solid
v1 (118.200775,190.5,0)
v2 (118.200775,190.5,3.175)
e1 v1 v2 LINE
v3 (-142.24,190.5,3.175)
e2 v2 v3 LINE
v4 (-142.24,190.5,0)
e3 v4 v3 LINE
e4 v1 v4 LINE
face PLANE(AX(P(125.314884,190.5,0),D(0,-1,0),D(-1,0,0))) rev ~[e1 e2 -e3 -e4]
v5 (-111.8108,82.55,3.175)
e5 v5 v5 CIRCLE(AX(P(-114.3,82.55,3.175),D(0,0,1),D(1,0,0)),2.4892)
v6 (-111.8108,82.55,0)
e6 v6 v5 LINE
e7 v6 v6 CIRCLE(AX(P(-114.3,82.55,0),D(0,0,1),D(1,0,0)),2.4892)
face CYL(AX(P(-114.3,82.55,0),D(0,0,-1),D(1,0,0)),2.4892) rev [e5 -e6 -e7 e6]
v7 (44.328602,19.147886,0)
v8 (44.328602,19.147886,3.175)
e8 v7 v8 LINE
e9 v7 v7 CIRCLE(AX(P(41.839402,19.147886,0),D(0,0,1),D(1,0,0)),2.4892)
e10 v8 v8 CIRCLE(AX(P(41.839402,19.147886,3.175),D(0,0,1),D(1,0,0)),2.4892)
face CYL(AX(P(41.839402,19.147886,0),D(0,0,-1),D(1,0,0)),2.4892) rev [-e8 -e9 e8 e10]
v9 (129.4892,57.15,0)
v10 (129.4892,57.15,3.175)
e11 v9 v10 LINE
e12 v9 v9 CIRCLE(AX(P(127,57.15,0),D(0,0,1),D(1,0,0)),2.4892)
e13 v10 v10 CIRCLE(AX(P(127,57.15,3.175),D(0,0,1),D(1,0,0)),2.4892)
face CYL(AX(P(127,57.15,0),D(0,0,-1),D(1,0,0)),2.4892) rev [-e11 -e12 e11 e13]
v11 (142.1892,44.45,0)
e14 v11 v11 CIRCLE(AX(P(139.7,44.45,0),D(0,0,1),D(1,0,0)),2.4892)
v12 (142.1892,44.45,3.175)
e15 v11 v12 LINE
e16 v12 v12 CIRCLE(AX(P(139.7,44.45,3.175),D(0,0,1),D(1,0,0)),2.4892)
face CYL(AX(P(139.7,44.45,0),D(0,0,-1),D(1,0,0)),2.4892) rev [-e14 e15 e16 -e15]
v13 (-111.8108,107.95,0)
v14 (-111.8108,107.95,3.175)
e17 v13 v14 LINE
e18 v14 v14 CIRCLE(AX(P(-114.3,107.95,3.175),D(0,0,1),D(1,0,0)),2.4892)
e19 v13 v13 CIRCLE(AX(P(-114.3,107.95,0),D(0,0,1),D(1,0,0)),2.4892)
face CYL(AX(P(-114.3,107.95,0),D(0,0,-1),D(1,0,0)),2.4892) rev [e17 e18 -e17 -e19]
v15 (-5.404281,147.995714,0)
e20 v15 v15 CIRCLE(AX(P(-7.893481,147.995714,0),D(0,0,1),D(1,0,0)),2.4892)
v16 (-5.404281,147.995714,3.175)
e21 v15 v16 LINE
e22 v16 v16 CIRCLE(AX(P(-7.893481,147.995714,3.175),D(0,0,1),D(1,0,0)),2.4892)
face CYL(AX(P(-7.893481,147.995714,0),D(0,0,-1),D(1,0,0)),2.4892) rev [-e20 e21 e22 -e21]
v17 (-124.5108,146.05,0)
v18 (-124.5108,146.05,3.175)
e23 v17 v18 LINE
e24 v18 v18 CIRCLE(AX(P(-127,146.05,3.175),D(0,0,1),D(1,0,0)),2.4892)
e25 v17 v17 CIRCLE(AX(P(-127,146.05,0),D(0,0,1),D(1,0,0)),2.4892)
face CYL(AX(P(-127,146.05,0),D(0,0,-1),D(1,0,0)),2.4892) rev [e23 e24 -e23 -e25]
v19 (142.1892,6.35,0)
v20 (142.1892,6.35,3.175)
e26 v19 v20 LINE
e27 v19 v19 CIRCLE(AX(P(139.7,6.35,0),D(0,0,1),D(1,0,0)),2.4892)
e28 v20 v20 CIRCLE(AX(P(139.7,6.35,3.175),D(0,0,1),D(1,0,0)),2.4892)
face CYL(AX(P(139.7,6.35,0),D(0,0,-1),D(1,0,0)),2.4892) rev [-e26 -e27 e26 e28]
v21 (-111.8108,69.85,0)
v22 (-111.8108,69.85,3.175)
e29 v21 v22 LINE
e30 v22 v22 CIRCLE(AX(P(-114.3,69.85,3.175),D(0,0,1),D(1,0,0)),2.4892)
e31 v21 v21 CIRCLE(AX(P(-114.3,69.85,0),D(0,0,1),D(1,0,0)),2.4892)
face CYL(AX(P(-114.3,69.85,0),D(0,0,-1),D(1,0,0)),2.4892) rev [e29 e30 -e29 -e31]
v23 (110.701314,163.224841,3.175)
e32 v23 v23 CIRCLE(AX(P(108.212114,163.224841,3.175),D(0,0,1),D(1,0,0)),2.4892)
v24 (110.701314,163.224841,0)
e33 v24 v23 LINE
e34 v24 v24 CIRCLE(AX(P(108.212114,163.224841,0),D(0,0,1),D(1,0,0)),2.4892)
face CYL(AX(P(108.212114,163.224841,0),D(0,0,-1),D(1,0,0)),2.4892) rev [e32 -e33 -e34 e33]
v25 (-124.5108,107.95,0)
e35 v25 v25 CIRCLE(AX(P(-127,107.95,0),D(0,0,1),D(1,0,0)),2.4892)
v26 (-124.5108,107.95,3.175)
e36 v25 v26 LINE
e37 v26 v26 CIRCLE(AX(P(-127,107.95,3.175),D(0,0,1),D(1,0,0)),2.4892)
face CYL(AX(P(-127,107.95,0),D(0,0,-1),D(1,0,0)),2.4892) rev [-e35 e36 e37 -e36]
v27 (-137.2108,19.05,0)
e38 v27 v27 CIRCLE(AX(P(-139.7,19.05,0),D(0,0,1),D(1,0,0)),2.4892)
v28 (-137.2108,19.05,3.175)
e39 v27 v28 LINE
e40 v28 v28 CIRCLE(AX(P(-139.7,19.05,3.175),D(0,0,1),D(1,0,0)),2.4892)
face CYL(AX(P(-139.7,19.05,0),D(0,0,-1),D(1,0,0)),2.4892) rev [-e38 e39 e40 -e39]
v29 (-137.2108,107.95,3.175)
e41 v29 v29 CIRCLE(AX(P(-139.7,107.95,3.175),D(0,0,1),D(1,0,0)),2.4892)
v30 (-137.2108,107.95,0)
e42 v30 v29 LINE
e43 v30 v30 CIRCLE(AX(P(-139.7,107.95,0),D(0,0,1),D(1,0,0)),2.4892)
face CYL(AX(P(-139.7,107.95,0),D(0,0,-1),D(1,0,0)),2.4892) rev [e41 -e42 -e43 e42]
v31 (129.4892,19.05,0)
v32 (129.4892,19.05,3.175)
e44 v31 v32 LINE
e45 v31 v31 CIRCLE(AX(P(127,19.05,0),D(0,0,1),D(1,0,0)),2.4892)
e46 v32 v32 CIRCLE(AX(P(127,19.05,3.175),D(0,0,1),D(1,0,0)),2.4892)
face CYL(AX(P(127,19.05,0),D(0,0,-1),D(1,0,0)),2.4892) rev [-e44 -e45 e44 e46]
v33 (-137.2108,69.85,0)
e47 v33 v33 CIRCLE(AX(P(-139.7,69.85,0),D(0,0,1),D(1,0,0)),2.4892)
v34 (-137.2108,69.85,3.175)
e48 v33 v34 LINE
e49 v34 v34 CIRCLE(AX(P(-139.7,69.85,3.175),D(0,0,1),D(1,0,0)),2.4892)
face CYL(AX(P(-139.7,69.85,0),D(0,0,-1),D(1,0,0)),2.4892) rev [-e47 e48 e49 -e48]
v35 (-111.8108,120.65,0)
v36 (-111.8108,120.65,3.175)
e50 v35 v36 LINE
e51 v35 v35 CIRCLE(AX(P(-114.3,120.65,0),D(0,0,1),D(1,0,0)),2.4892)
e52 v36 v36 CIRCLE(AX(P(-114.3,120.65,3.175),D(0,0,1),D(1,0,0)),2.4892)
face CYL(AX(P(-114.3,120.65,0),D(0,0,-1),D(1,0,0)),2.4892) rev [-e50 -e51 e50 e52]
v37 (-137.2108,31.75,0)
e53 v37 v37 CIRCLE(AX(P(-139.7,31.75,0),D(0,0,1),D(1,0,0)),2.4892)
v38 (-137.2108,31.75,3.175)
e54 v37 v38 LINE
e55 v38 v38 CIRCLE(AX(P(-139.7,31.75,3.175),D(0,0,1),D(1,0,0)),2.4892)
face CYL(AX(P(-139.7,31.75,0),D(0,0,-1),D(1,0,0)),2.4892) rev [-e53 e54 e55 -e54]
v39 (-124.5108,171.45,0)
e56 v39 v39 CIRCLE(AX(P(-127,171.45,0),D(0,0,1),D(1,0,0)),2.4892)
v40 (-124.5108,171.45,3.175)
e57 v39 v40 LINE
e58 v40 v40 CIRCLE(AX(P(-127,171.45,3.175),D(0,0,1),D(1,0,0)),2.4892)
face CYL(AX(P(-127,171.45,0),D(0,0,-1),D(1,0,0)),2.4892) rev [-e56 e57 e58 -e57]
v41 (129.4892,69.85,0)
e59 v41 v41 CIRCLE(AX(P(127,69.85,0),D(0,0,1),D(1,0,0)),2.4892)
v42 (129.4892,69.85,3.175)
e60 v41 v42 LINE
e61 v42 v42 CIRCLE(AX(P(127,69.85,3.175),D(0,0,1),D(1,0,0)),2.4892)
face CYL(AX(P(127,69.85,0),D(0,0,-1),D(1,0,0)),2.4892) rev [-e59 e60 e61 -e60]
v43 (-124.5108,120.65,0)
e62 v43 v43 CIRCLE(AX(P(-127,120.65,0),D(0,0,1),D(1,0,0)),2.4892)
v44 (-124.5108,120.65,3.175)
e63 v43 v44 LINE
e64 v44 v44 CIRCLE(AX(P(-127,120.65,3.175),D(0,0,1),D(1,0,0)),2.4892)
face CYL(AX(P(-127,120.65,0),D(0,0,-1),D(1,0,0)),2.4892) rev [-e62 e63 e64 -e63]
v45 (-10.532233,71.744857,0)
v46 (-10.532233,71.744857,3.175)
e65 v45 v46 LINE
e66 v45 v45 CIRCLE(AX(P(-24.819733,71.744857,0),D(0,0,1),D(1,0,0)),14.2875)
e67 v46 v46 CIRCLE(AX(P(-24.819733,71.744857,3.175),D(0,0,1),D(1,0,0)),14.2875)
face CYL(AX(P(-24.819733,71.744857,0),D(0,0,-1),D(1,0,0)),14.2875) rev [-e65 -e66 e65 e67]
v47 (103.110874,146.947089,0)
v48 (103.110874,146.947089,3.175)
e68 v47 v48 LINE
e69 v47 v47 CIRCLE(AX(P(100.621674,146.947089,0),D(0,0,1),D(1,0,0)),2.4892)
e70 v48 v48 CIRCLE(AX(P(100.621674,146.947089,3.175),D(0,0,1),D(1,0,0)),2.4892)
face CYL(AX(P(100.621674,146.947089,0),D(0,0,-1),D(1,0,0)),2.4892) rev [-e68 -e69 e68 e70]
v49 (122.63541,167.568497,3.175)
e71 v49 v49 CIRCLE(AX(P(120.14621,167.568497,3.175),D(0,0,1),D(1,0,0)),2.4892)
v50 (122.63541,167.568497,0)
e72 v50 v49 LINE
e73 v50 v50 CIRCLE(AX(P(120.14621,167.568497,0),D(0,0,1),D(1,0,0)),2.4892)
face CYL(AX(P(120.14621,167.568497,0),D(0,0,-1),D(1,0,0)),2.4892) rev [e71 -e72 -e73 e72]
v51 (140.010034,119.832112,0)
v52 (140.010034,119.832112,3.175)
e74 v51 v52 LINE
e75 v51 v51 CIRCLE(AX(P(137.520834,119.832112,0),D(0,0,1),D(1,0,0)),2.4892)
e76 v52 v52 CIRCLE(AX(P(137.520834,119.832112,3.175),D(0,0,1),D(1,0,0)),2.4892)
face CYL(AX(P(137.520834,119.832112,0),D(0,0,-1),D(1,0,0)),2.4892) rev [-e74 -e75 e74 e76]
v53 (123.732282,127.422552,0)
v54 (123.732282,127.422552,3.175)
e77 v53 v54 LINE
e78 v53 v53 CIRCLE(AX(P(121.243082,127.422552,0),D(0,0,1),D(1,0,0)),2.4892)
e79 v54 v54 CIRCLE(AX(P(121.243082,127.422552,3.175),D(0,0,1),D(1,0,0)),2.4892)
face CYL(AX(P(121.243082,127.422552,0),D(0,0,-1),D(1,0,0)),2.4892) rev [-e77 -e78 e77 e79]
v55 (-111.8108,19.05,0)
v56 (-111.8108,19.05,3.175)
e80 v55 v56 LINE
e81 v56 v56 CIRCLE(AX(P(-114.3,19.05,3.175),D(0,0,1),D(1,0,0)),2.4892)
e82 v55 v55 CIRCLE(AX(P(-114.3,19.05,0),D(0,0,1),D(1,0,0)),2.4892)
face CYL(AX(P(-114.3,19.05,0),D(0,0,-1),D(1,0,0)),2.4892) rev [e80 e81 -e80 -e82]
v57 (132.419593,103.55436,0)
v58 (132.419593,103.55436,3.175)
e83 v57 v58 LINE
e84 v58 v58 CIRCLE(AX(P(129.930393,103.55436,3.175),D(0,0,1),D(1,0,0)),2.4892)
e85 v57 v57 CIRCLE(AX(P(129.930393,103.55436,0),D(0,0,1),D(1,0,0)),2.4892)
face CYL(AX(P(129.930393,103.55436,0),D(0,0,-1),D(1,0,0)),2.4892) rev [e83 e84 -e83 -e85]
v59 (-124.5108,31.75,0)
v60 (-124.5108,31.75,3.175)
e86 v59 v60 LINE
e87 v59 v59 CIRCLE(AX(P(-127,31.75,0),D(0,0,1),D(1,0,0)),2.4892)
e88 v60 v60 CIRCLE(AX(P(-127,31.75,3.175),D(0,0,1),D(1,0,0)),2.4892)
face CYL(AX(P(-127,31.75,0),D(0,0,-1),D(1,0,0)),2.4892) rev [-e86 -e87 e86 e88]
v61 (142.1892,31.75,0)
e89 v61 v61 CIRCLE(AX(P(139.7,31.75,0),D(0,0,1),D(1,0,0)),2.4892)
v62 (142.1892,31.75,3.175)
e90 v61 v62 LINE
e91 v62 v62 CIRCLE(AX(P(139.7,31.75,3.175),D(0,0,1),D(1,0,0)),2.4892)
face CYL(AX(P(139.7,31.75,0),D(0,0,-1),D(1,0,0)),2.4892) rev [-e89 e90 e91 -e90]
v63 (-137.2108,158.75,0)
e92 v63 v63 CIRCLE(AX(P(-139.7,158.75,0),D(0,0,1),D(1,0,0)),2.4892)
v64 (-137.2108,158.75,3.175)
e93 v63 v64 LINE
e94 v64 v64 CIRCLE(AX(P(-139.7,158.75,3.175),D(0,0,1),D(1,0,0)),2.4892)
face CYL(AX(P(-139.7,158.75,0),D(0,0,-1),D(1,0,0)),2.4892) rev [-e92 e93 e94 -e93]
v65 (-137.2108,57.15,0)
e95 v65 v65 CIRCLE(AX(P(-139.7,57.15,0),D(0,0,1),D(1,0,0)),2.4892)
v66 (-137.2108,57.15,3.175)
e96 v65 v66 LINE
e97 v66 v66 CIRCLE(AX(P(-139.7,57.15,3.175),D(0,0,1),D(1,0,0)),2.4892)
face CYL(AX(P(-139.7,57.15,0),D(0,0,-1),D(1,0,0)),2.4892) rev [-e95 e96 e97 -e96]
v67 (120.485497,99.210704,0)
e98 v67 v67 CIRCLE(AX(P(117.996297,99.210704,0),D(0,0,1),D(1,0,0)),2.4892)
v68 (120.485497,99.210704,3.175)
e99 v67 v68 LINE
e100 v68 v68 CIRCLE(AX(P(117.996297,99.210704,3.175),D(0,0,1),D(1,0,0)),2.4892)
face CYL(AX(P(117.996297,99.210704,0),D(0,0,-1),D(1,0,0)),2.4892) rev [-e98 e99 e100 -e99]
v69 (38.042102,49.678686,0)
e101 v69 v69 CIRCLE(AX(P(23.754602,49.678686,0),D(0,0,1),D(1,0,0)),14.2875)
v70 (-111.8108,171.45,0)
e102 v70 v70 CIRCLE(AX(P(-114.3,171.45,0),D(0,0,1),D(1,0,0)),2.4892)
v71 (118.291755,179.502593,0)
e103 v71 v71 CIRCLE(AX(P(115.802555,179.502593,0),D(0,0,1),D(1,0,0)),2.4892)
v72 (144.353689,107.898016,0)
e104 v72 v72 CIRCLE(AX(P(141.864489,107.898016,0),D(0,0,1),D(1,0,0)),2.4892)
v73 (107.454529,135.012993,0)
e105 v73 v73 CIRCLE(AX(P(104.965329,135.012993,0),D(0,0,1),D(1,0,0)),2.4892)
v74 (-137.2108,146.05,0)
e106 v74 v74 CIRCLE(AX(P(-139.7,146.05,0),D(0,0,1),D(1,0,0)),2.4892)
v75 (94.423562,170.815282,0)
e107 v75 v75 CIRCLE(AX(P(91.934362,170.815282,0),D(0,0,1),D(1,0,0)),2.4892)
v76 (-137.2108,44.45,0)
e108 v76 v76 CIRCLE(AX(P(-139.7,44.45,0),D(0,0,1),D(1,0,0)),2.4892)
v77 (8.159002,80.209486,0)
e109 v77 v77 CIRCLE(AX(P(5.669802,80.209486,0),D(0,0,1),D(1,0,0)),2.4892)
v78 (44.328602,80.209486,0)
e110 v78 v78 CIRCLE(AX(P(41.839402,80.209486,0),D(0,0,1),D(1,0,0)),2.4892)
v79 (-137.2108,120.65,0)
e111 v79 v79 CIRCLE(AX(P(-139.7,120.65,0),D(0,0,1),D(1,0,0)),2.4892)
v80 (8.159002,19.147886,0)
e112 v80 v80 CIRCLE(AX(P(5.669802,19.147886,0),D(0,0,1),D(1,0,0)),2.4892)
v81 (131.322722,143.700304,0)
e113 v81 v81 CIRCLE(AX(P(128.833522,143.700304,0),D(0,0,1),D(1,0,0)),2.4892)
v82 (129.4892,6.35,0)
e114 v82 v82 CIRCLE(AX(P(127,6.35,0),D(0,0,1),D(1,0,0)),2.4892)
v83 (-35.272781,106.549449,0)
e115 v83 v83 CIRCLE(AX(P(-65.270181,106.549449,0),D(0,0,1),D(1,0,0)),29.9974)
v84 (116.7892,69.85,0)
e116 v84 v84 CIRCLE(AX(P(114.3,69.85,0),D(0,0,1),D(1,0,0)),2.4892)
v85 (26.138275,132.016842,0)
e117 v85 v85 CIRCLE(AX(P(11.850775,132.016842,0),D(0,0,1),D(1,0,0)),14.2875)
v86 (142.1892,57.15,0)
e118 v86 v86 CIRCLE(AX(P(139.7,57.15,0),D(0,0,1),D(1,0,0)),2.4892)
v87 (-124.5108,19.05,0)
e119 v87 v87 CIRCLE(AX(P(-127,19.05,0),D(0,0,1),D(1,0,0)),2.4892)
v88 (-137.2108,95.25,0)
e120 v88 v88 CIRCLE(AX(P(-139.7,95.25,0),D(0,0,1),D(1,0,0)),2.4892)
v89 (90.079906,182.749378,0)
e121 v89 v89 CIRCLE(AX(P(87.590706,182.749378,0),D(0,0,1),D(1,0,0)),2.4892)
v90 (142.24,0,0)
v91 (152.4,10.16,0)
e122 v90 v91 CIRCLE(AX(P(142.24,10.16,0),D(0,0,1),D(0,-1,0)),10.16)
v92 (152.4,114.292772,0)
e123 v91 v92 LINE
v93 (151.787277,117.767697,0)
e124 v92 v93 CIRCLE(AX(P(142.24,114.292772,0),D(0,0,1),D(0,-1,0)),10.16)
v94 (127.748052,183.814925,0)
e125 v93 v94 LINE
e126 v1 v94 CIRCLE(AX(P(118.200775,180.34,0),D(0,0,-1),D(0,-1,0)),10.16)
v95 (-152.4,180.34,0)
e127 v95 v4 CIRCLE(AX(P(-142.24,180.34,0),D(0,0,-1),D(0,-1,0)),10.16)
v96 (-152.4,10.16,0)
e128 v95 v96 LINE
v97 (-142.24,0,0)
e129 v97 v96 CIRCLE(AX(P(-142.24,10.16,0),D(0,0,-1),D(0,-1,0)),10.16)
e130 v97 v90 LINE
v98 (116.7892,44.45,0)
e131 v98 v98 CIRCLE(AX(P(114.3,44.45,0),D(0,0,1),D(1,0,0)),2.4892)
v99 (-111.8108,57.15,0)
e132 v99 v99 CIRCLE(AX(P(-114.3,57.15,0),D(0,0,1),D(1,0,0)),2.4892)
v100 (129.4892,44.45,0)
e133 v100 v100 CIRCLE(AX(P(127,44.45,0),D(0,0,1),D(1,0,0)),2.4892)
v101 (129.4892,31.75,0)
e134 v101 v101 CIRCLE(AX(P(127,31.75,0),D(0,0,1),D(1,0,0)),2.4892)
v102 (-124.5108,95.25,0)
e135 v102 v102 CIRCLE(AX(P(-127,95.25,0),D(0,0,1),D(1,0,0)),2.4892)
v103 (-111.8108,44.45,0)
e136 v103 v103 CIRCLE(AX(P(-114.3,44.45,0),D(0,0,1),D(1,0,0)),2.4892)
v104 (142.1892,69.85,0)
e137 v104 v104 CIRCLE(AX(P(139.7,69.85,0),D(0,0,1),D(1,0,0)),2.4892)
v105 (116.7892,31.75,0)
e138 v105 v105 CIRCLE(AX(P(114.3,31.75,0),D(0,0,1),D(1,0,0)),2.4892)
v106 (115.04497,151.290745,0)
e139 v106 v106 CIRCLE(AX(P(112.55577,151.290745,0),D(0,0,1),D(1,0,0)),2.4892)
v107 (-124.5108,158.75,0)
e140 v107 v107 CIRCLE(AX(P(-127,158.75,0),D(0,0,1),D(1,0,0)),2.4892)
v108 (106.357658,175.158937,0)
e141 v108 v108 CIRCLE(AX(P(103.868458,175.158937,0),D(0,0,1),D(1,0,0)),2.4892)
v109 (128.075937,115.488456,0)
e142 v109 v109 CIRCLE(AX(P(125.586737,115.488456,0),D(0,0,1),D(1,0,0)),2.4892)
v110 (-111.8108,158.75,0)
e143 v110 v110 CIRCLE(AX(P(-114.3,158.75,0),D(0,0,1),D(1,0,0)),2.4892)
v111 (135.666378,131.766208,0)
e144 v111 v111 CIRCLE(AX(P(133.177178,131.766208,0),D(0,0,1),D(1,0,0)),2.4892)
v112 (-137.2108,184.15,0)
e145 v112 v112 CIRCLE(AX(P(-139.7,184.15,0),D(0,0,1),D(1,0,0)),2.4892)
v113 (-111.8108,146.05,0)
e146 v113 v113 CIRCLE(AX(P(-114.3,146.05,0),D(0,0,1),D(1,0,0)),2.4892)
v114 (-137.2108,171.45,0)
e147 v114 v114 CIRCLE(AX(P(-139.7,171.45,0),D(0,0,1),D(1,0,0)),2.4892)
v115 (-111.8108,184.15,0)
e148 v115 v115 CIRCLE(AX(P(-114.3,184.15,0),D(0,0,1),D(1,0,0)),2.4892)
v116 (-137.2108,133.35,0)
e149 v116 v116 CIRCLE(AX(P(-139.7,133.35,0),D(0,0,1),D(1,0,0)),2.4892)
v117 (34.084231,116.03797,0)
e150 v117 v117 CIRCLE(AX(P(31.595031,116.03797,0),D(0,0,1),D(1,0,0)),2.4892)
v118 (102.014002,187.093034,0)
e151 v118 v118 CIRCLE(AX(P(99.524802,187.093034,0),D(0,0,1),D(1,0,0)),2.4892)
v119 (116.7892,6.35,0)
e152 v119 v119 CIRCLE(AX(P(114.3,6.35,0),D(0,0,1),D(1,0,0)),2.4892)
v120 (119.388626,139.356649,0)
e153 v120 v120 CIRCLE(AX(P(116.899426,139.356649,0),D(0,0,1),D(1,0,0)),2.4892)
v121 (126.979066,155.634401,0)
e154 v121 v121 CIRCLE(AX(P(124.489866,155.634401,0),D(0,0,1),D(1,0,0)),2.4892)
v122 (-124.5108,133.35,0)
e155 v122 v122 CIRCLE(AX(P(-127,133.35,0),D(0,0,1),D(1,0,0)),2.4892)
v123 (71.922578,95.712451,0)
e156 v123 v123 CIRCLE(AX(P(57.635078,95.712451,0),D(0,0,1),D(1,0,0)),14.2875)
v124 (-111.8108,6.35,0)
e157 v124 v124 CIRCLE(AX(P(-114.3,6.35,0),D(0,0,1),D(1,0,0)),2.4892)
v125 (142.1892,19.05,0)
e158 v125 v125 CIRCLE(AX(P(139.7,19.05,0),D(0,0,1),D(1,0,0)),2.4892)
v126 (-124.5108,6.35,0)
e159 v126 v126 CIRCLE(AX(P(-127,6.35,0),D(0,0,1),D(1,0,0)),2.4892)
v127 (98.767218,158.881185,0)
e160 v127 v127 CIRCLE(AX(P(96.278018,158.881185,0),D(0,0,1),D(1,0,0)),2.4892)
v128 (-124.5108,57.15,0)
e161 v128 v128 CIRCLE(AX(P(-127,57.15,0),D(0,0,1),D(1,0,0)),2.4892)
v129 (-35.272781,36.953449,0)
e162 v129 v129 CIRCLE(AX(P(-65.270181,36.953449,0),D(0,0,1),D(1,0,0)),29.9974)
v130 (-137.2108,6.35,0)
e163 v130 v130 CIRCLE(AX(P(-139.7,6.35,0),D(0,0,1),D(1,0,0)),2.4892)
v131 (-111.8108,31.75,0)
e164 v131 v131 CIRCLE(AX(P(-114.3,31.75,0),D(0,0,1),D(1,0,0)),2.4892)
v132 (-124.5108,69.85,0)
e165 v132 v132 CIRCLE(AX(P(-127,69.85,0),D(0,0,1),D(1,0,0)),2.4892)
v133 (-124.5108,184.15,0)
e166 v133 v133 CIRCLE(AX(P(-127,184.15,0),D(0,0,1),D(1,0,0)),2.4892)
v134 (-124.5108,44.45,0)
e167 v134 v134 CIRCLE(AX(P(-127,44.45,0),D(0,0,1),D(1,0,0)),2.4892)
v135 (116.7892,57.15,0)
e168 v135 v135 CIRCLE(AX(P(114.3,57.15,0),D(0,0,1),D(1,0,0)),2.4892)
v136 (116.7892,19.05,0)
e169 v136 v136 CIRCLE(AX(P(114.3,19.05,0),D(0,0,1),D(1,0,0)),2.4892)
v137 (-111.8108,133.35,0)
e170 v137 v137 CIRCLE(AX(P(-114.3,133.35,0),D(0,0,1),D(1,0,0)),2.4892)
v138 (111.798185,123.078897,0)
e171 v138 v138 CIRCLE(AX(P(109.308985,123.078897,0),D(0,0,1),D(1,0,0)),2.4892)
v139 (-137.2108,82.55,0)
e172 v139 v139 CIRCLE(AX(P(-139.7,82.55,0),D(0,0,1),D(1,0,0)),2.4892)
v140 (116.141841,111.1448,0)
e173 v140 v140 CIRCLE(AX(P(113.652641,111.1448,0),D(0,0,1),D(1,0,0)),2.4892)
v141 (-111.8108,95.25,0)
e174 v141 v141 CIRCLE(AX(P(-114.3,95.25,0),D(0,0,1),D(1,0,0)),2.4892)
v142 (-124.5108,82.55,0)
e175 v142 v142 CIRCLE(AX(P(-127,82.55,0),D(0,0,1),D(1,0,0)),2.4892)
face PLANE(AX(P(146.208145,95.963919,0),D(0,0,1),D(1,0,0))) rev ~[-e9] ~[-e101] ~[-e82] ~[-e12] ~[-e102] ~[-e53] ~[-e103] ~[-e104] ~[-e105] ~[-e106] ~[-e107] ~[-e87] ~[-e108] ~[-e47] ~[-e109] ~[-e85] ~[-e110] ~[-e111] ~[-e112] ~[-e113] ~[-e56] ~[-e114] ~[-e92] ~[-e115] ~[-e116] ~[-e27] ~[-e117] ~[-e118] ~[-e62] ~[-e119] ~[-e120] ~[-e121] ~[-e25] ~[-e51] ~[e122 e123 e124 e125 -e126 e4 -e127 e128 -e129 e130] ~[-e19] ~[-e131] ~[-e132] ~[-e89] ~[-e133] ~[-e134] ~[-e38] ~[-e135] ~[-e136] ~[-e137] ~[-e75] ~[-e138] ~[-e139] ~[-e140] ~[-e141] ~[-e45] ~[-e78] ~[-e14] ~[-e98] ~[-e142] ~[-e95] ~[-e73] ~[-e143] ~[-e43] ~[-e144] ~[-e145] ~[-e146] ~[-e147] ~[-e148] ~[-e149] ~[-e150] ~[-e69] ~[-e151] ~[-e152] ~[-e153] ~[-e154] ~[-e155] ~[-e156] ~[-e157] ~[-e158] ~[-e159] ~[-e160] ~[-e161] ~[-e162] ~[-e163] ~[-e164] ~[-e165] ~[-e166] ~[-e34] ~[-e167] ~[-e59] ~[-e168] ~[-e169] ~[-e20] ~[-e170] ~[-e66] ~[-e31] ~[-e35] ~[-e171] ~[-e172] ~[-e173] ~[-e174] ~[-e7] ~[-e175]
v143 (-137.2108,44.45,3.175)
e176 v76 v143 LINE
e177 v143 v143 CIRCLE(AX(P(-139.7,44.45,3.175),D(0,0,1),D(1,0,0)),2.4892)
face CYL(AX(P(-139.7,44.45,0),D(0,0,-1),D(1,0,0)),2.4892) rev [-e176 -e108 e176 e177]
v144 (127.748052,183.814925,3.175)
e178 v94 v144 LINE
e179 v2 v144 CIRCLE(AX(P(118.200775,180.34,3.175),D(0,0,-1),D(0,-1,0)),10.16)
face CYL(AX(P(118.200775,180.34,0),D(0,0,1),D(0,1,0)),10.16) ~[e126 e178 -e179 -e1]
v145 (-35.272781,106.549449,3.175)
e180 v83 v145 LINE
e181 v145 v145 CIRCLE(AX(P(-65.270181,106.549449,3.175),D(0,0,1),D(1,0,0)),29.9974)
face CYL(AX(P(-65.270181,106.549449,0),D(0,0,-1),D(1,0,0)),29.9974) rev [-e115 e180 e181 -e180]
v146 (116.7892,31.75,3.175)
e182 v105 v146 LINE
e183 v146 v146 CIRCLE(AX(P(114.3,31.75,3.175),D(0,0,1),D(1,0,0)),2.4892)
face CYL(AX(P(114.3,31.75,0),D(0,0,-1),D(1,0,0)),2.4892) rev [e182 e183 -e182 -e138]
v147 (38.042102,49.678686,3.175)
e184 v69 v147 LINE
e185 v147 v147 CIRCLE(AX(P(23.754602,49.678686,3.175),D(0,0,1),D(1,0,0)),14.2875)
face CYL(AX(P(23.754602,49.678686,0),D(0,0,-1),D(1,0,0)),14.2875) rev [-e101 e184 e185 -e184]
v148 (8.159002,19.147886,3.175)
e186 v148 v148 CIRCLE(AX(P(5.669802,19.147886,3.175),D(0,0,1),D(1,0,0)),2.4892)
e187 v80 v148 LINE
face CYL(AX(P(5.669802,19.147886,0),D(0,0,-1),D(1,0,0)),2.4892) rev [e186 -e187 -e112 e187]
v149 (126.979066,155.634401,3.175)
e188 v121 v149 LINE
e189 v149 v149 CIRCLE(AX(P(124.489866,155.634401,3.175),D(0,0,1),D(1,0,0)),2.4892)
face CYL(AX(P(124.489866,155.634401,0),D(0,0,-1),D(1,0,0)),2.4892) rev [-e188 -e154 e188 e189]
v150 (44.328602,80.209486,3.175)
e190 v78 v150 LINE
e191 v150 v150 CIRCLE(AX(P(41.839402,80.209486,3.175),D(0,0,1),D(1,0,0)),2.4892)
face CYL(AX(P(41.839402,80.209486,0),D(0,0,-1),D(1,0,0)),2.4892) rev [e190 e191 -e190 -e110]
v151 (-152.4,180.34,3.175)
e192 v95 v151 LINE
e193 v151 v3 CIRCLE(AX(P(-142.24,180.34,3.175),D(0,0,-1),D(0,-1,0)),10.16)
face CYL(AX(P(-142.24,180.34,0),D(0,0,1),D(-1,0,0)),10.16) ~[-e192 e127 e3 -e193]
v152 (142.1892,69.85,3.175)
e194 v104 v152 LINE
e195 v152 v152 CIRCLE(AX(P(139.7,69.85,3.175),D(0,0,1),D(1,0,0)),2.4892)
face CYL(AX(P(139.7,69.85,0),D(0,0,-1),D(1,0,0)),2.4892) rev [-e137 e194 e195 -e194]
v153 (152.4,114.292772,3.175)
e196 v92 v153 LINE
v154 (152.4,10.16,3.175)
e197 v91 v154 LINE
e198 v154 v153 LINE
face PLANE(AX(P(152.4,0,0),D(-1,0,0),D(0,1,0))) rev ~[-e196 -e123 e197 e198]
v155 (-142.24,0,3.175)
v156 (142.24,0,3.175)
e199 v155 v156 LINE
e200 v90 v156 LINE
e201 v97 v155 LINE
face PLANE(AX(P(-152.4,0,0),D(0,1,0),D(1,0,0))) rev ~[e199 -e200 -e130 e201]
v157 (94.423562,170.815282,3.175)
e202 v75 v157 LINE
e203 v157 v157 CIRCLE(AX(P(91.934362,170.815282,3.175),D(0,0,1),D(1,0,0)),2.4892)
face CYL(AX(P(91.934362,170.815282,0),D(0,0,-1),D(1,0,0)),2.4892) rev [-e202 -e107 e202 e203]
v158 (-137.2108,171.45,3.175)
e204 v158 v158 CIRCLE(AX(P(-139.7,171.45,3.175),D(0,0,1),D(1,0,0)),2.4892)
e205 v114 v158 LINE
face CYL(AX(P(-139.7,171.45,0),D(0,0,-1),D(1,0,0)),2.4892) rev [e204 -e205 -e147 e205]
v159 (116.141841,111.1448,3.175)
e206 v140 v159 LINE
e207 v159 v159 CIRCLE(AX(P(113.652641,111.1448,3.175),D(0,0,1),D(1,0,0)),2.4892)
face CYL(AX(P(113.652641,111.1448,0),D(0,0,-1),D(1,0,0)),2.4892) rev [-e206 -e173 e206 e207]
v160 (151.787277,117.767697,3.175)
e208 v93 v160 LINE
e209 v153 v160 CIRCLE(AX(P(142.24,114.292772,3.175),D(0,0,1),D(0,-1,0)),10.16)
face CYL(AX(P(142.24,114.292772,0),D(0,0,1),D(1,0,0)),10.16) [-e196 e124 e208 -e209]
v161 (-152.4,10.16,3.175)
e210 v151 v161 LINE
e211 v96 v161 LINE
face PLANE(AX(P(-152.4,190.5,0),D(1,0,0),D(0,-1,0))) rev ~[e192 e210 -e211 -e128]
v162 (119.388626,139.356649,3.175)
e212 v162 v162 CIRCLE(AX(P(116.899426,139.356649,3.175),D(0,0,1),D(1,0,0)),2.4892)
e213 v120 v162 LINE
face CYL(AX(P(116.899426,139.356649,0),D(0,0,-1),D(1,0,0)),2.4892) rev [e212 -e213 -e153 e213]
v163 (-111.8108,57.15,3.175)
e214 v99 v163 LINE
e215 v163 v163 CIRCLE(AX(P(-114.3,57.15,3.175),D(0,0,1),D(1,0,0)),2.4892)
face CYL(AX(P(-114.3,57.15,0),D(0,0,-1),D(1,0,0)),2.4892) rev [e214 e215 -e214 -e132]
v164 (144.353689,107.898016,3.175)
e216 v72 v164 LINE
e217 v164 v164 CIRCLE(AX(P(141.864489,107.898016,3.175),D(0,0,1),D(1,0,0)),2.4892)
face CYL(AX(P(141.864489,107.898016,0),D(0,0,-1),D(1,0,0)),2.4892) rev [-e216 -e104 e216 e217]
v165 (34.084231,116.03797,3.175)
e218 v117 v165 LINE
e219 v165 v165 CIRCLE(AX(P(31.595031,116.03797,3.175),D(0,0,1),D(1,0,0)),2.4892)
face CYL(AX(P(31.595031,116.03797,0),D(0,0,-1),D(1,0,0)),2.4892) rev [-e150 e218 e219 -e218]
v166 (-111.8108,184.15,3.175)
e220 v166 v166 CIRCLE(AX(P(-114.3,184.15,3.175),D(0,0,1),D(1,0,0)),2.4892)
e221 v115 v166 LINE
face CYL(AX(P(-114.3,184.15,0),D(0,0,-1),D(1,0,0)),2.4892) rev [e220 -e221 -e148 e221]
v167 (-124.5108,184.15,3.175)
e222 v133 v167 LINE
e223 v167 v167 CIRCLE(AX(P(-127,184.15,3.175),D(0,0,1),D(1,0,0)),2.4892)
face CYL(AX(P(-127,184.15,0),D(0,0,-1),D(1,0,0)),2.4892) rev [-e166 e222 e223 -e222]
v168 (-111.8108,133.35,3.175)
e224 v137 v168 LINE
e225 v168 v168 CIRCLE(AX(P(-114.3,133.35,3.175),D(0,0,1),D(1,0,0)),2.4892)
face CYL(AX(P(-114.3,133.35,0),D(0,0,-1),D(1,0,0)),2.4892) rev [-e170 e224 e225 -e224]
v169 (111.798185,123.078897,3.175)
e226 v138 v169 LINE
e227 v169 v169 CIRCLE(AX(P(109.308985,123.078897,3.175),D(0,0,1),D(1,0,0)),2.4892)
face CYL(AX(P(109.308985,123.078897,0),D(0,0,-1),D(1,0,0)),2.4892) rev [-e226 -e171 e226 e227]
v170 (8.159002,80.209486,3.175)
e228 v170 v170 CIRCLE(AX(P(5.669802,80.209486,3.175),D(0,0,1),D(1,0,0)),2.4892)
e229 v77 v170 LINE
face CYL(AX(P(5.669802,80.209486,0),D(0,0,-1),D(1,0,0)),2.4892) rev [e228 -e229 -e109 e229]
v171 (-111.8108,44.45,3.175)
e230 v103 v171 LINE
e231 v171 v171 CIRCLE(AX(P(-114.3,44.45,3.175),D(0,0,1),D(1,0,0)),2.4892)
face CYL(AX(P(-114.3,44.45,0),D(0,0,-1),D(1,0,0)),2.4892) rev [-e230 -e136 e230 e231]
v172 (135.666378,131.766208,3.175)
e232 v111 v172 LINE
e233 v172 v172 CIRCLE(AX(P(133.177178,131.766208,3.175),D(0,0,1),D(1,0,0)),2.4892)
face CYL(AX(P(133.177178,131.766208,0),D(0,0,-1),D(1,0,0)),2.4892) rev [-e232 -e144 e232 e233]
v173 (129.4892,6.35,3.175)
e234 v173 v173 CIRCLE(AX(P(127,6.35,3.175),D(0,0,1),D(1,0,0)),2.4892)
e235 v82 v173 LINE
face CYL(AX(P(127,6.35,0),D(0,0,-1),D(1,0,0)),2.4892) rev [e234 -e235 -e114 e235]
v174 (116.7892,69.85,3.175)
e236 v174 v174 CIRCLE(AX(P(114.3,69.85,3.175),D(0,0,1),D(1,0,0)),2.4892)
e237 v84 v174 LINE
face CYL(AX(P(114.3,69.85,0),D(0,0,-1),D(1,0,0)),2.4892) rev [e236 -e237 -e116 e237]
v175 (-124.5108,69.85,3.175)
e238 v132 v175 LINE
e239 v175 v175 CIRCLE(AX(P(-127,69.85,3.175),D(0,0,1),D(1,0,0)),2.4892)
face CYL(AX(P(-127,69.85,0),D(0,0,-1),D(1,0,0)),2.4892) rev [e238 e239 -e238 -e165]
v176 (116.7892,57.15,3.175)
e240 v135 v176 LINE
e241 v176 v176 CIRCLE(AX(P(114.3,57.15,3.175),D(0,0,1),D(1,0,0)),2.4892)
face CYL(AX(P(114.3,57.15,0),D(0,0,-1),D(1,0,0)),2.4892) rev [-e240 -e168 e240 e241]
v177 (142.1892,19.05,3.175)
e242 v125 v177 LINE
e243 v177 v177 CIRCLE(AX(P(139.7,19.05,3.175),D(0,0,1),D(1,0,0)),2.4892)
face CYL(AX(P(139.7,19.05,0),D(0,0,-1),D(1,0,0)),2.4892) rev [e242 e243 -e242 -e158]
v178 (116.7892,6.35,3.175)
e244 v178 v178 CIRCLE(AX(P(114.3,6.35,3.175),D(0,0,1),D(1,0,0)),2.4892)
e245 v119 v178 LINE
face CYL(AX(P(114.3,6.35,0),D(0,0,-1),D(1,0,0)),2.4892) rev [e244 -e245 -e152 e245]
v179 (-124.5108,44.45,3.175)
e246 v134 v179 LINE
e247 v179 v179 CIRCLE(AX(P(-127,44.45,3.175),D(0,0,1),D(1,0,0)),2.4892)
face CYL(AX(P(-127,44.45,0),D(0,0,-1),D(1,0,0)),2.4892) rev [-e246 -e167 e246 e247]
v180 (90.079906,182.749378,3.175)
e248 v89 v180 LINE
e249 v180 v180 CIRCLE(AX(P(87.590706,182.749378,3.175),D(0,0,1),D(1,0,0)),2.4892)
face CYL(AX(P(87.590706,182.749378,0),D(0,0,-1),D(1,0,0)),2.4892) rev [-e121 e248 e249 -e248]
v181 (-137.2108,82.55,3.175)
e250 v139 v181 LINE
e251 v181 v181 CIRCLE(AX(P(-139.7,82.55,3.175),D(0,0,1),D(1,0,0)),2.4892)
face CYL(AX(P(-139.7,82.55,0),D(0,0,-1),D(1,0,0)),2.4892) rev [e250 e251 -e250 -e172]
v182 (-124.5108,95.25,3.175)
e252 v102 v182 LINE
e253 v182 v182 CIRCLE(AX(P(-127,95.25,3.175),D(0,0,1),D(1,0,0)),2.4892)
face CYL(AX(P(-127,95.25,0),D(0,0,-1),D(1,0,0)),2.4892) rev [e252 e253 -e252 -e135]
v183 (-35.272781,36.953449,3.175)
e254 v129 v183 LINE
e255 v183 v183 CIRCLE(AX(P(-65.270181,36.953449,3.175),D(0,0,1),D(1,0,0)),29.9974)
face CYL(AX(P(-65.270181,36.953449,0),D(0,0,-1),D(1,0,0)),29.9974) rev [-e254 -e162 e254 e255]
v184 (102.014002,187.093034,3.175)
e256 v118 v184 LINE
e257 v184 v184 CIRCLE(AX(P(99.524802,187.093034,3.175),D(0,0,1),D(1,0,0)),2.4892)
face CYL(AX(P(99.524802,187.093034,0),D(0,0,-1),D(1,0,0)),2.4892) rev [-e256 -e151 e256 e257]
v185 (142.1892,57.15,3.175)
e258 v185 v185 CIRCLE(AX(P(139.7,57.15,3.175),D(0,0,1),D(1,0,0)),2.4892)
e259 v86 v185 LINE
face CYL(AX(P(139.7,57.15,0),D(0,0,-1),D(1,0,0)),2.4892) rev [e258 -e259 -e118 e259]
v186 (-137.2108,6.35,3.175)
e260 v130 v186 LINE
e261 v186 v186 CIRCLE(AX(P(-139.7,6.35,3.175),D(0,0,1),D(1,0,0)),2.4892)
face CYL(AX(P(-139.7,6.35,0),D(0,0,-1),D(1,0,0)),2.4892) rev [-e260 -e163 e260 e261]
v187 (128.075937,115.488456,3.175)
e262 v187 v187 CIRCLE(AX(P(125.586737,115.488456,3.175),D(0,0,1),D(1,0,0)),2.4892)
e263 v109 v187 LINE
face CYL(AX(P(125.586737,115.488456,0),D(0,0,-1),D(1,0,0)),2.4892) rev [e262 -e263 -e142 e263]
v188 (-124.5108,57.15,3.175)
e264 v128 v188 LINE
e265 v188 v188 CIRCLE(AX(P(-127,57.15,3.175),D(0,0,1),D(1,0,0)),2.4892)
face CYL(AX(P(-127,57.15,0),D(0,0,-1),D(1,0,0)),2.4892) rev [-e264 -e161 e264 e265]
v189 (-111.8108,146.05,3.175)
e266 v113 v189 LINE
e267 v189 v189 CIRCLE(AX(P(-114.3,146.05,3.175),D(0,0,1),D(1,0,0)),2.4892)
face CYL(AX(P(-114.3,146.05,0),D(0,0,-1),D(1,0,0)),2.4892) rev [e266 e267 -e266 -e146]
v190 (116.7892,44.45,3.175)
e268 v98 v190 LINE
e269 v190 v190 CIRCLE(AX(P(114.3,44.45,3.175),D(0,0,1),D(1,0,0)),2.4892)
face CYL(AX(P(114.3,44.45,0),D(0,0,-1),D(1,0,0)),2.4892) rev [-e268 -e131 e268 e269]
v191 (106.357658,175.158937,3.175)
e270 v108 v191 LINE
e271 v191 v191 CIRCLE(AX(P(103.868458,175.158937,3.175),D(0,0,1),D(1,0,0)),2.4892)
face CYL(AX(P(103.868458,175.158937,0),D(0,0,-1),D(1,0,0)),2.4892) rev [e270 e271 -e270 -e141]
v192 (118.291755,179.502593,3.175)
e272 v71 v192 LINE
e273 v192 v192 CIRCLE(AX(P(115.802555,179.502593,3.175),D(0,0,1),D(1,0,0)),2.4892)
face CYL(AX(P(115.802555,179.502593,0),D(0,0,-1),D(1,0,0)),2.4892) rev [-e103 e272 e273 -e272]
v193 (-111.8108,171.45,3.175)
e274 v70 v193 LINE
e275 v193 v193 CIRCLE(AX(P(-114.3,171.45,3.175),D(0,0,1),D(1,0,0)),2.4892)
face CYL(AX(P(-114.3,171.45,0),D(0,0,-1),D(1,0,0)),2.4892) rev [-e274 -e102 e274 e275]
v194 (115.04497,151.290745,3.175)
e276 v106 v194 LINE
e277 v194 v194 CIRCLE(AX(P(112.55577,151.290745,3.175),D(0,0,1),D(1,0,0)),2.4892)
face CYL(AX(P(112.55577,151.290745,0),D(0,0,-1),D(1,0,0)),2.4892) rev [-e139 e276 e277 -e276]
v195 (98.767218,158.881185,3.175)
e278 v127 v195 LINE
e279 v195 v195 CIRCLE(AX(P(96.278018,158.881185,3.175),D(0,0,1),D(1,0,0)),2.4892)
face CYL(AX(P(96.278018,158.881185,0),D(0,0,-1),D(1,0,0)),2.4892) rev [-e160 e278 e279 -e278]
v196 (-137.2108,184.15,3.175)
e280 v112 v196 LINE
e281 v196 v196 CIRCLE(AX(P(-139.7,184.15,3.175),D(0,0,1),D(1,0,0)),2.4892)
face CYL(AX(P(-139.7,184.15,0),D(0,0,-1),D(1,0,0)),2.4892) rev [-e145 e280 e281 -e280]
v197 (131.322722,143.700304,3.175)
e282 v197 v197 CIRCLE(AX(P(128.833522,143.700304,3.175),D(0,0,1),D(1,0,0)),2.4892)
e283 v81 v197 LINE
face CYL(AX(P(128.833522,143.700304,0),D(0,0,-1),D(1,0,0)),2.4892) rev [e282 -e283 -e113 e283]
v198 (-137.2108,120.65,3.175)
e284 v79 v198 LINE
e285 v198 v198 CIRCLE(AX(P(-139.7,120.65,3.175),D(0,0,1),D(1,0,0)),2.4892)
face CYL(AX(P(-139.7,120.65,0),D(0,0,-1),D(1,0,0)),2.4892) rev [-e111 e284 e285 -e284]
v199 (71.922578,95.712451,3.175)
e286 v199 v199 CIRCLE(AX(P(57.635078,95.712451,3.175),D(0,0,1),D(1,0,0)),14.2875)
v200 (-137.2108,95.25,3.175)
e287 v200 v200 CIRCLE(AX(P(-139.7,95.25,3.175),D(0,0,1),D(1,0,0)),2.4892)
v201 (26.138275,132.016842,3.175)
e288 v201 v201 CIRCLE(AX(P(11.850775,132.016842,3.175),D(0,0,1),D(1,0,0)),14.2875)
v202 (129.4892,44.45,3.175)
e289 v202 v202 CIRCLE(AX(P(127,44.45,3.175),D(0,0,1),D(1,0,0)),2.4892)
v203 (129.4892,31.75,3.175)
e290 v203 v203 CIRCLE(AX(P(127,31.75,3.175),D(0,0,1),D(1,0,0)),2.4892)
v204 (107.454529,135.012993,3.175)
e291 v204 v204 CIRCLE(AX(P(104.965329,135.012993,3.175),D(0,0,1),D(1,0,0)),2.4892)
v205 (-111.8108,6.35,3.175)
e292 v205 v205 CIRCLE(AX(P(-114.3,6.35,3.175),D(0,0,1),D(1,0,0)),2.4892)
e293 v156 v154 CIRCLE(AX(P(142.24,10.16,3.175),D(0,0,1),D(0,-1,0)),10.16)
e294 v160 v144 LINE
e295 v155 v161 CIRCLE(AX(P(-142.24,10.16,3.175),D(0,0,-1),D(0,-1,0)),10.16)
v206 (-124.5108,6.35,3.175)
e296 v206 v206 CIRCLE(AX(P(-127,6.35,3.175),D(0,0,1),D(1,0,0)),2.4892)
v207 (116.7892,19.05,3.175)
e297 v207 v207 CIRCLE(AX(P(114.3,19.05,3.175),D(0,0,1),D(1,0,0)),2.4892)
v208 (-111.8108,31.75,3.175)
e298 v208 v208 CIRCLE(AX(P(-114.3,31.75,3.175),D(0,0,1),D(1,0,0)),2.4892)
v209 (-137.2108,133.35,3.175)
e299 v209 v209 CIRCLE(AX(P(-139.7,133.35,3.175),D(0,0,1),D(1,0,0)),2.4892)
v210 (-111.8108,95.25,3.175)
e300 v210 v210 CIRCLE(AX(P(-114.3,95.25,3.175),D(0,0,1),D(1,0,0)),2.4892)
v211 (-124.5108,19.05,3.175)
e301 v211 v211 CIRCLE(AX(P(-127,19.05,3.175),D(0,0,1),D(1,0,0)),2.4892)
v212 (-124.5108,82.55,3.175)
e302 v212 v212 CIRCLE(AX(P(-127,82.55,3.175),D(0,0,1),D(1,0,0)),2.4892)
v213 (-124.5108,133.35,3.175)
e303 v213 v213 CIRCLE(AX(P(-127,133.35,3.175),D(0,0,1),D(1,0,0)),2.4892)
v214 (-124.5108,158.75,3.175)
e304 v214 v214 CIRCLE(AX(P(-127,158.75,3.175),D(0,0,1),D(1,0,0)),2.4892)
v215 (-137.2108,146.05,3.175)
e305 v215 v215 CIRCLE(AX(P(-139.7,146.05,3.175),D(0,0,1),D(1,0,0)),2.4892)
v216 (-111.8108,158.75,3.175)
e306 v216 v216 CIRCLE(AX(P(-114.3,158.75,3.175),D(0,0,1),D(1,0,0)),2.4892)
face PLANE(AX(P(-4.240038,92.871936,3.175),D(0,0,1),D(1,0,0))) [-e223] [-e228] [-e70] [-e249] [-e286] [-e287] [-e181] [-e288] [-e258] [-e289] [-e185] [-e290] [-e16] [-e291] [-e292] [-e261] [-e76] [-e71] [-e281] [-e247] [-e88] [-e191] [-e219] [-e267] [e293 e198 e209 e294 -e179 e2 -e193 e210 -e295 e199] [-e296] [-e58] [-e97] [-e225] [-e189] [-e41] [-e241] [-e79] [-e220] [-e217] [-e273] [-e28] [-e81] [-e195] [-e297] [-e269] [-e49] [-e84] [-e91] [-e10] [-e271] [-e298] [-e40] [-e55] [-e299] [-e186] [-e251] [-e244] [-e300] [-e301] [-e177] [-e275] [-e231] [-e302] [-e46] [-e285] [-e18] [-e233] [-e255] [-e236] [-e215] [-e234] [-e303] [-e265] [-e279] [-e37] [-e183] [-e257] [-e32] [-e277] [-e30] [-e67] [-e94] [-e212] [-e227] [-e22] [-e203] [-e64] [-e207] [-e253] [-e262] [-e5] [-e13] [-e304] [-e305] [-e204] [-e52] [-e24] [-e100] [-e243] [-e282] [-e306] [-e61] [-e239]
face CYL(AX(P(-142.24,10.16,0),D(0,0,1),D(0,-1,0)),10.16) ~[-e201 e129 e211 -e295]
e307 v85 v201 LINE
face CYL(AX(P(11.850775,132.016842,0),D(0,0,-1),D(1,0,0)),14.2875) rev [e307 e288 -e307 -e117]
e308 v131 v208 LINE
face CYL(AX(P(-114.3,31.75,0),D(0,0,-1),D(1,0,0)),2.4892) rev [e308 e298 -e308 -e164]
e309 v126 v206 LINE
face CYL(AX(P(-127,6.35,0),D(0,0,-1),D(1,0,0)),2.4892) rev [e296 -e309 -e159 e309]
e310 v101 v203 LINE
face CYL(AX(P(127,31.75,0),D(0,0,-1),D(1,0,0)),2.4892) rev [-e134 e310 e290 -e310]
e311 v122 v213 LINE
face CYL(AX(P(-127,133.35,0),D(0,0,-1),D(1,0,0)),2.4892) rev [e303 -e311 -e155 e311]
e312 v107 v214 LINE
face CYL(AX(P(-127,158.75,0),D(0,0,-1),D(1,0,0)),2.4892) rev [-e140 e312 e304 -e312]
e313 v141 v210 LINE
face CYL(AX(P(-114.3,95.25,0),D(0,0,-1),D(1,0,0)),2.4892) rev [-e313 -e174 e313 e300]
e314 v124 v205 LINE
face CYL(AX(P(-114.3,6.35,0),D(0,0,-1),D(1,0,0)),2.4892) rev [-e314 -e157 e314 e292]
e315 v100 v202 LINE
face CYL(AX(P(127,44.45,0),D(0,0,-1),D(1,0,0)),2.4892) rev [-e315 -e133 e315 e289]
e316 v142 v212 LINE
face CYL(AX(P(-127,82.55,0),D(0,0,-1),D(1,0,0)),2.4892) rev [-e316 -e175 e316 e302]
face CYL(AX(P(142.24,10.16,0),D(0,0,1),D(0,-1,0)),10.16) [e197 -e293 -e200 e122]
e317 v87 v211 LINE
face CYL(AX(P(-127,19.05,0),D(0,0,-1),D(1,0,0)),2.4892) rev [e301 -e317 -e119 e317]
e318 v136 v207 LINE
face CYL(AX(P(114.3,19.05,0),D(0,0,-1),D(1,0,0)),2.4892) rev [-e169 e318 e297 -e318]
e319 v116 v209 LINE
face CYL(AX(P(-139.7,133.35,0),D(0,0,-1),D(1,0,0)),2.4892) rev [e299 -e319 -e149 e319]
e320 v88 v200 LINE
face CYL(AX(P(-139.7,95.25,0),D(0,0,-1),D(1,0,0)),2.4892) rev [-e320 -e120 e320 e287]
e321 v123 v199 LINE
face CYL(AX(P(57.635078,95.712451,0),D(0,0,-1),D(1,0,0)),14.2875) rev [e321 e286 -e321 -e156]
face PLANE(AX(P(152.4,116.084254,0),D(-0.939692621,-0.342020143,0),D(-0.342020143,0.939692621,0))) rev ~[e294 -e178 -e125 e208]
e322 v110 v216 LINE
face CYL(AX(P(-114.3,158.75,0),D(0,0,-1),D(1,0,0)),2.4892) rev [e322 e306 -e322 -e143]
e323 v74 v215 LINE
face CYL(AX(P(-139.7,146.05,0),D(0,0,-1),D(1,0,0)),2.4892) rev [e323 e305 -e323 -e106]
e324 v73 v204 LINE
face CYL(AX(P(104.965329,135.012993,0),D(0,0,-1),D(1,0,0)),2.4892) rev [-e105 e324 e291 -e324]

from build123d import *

# Parameters (mm, degrees)
SKETCH1_R           = 2.4892
SKETCH1_R_2         = 14.2875
SKETCH1_R_3         = 29.9974
BOSS_EXTRUDE1_DEPTH = 3.175
BOSS_EXTRUDE2_START = -3.175
SKETCH2_R           = 2.4892
BOSS_EXTRUDE2_DEPTH = 3.175
FILLET1_R           = 10.16


with BuildPart() as part:
    # Sketch1 → Boss-Extrude1 (new body)
    with BuildSketch(Plane.XY):
        Polygon((-152.4, 0), (152.4, 0), (152.4, 116.084254136), (125.314883545, 190.5), (-152.4, 190.5), align=None)
        with Locations((-139.7, 184.15)):
            Circle(SKETCH1_R, mode=Mode.SUBTRACT)
        with Locations((-127, 184.15)):
            Circle(SKETCH1_R, mode=Mode.SUBTRACT)
        with Locations((-114.3, 184.15)):
            Circle(SKETCH1_R, mode=Mode.SUBTRACT)
        with Locations((-127, 171.45)):
            Circle(SKETCH1_R, mode=Mode.SUBTRACT)
        with Locations((-114.3, 171.45)):
            Circle(SKETCH1_R, mode=Mode.SUBTRACT)
        with Locations((-127, 158.75)):
            Circle(SKETCH1_R, mode=Mode.SUBTRACT)
        with Locations((-114.3, 158.75)):
            Circle(SKETCH1_R, mode=Mode.SUBTRACT)
        with Locations((-127, 146.05)):
            Circle(SKETCH1_R, mode=Mode.SUBTRACT)
        with Locations((-114.3, 146.05)):
            Circle(SKETCH1_R, mode=Mode.SUBTRACT)
        with Locations((-127, 133.35)):
            Circle(SKETCH1_R, mode=Mode.SUBTRACT)
        with Locations((-114.3, 133.35)):
            Circle(SKETCH1_R, mode=Mode.SUBTRACT)
        with Locations((-127, 120.65)):
            Circle(SKETCH1_R, mode=Mode.SUBTRACT)
        with Locations((-114.3, 120.65)):
            Circle(SKETCH1_R, mode=Mode.SUBTRACT)
        with Locations((-127, 107.95)):
            Circle(SKETCH1_R, mode=Mode.SUBTRACT)
        with Locations((-114.3, 107.95)):
            Circle(SKETCH1_R, mode=Mode.SUBTRACT)
        with Locations((-127, 95.25)):
            Circle(SKETCH1_R, mode=Mode.SUBTRACT)
        with Locations((-114.3, 95.25)):
            Circle(SKETCH1_R, mode=Mode.SUBTRACT)
        with Locations((-127, 82.55)):
            Circle(SKETCH1_R, mode=Mode.SUBTRACT)
        with Locations((-114.3, 82.55)):
            Circle(SKETCH1_R, mode=Mode.SUBTRACT)
        with Locations((-127, 69.85)):
            Circle(SKETCH1_R, mode=Mode.SUBTRACT)
        with Locations((-114.3, 69.85)):
            Circle(SKETCH1_R, mode=Mode.SUBTRACT)
        with Locations((-127, 57.15)):
            Circle(SKETCH1_R, mode=Mode.SUBTRACT)
        with Locations((-114.3, 57.15)):
            Circle(SKETCH1_R, mode=Mode.SUBTRACT)
        with Locations((-127, 44.45)):
            Circle(SKETCH1_R, mode=Mode.SUBTRACT)
        with Locations((-114.3, 44.45)):
            Circle(SKETCH1_R, mode=Mode.SUBTRACT)
        with Locations((-127, 31.75)):
            Circle(SKETCH1_R, mode=Mode.SUBTRACT)
        with Locations((-114.3, 31.75)):
            Circle(SKETCH1_R, mode=Mode.SUBTRACT)
        with Locations((-127, 19.05)):
            Circle(SKETCH1_R, mode=Mode.SUBTRACT)
        with Locations((-114.3, 19.05)):
            Circle(SKETCH1_R, mode=Mode.SUBTRACT)
        with Locations((-127, 6.35)):
            Circle(SKETCH1_R, mode=Mode.SUBTRACT)
        with Locations((-114.3, 6.35)):
            Circle(SKETCH1_R, mode=Mode.SUBTRACT)
        with Locations((-139.7, 171.45)):
            Circle(SKETCH1_R, mode=Mode.SUBTRACT)
        with Locations((-139.7, 158.75)):
            Circle(SKETCH1_R, mode=Mode.SUBTRACT)
        with Locations((-139.7, 146.05)):
            Circle(SKETCH1_R, mode=Mode.SUBTRACT)
        with Locations((-139.7, 133.35)):
            Circle(SKETCH1_R, mode=Mode.SUBTRACT)
        with Locations((-139.7, 120.65)):
            Circle(SKETCH1_R, mode=Mode.SUBTRACT)
        with Locations((-139.7, 107.95)):
            Circle(SKETCH1_R, mode=Mode.SUBTRACT)
        with Locations((-139.7, 95.25)):
            Circle(SKETCH1_R, mode=Mode.SUBTRACT)
        with Locations((-139.7, 82.55)):
            Circle(SKETCH1_R, mode=Mode.SUBTRACT)
        with Locations((-139.7, 69.85)):
            Circle(SKETCH1_R, mode=Mode.SUBTRACT)
        with Locations((-139.7, 57.15)):
            Circle(SKETCH1_R, mode=Mode.SUBTRACT)
        with Locations((-139.7, 44.45)):
            Circle(SKETCH1_R, mode=Mode.SUBTRACT)
        with Locations((-139.7, 31.75)):
            Circle(SKETCH1_R, mode=Mode.SUBTRACT)
        with Locations((-139.7, 19.05)):
            Circle(SKETCH1_R, mode=Mode.SUBTRACT)
        with Locations((-139.7, 6.35)):
            Circle(SKETCH1_R, mode=Mode.SUBTRACT)
        with Locations((87.590706137, 182.74937795)):
            Circle(SKETCH1_R, mode=Mode.SUBTRACT)
        with Locations((99.524802421, 187.09303377)):
            Circle(SKETCH1_R, mode=Mode.SUBTRACT)
        with Locations((115.802554525, 179.502593307)):
            Circle(SKETCH1_R, mode=Mode.SUBTRACT)
        with Locations((91.934361957, 170.815281666)):
            Circle(SKETCH1_R, mode=Mode.SUBTRACT)
        with Locations((103.868458241, 175.158937486)):
            Circle(SKETCH1_R, mode=Mode.SUBTRACT)
        with Locations((120.146210345, 167.568497023)):
            Circle(SKETCH1_R, mode=Mode.SUBTRACT)
        with Locations((96.278017777, 158.881185382)):
            Circle(SKETCH1_R, mode=Mode.SUBTRACT)
        with Locations((108.212114061, 163.224841202)):
            Circle(SKETCH1_R, mode=Mode.SUBTRACT)
        with Locations((124.489866165, 155.634400739)):
            Circle(SKETCH1_R, mode=Mode.SUBTRACT)
        with Locations((100.621673597, 146.947089098)):
            Circle(SKETCH1_R, mode=Mode.SUBTRACT)
        with Locations((112.555769881, 151.290744918)):
            Circle(SKETCH1_R, mode=Mode.SUBTRACT)
        with Locations((128.833521986, 143.700304455)):
            Circle(SKETCH1_R, mode=Mode.SUBTRACT)
        with Locations((104.965329418, 135.012992814)):
            Circle(SKETCH1_R, mode=Mode.SUBTRACT)
        with Locations((116.899425702, 139.356648634)):
            Circle(SKETCH1_R, mode=Mode.SUBTRACT)
        with Locations((133.177177806, 131.766208171)):
            Circle(SKETCH1_R, mode=Mode.SUBTRACT)
        with Locations((109.308985238, 123.07889653)):
            Circle(SKETCH1_R, mode=Mode.SUBTRACT)
        with Locations((121.243081522, 127.42255235)):
            Circle(SKETCH1_R, mode=Mode.SUBTRACT)
        with Locations((137.520833626, 119.832111887)):
            Circle(SKETCH1_R, mode=Mode.SUBTRACT)
        with Locations((113.652641058, 111.144800246)):
            Circle(SKETCH1_R, mode=Mode.SUBTRACT)
        with Locations((125.586737342, 115.488456066)):
            Circle(SKETCH1_R, mode=Mode.SUBTRACT)
        with Locations((141.864489446, 107.898015603)):
            Circle(SKETCH1_R, mode=Mode.SUBTRACT)
        with Locations((117.996296878, 99.210703962)):
            Circle(SKETCH1_R, mode=Mode.SUBTRACT)
        with Locations((129.930393162, 103.554359782)):
            Circle(SKETCH1_R, mode=Mode.SUBTRACT)
        with Locations((146.208145266, 95.963919319)):
            Circle(SKETCH1_R, mode=Mode.SUBTRACT)
        with Locations((114.3, 69.85)):
            Circle(SKETCH1_R, mode=Mode.SUBTRACT)
        with Locations((127, 69.85)):
            Circle(SKETCH1_R, mode=Mode.SUBTRACT)
        with Locations((139.7, 69.85)):
            Circle(SKETCH1_R, mode=Mode.SUBTRACT)
        with Locations((114.3, 57.15)):
            Circle(SKETCH1_R, mode=Mode.SUBTRACT)
        with Locations((127, 57.15)):
            Circle(SKETCH1_R, mode=Mode.SUBTRACT)
        with Locations((139.7, 57.15)):
            Circle(SKETCH1_R, mode=Mode.SUBTRACT)
        with Locations((114.3, 44.45)):
            Circle(SKETCH1_R, mode=Mode.SUBTRACT)
        with Locations((127, 44.45)):
            Circle(SKETCH1_R, mode=Mode.SUBTRACT)
        with Locations((139.7, 44.45)):
            Circle(SKETCH1_R, mode=Mode.SUBTRACT)
        with Locations((114.3, 31.75)):
            Circle(SKETCH1_R, mode=Mode.SUBTRACT)
        with Locations((127, 31.75)):
            Circle(SKETCH1_R, mode=Mode.SUBTRACT)
        with Locations((139.7, 31.75)):
            Circle(SKETCH1_R, mode=Mode.SUBTRACT)
        with Locations((114.3, 19.05)):
            Circle(SKETCH1_R, mode=Mode.SUBTRACT)
        with Locations((127, 19.05)):
            Circle(SKETCH1_R, mode=Mode.SUBTRACT)
        with Locations((139.7, 19.05)):
            Circle(SKETCH1_R, mode=Mode.SUBTRACT)
        with Locations((114.3, 6.35)):
            Circle(SKETCH1_R, mode=Mode.SUBTRACT)
        with Locations((127, 6.35)):
            Circle(SKETCH1_R, mode=Mode.SUBTRACT)
        with Locations((139.7, 6.35)):
            Circle(SKETCH1_R, mode=Mode.SUBTRACT)
        with Locations((11.850775283, 132.016841695)):
            Circle(SKETCH1_R_2, mode=Mode.SUBTRACT)
        with Locations((-24.819733341, 71.744857423)):
            Circle(SKETCH1_R_2, mode=Mode.SUBTRACT)
        with Locations((57.635078008, 95.712451111)):
            Circle(SKETCH1_R_2, mode=Mode.SUBTRACT)
        with Locations((23.754601626, 49.678686248)):
            Circle(SKETCH1_R_2, mode=Mode.SUBTRACT)
        with Locations((-65.270180641, 36.953448556)):
            Circle(SKETCH1_R_3, mode=Mode.SUBTRACT)
        with Locations((-65.270180641, 106.549448556)):
            Circle(SKETCH1_R_3, mode=Mode.SUBTRACT)
        with Locations((-7.893480799, 147.995713738)):
            Circle(SKETCH1_R, mode=Mode.SUBTRACT)
        with Locations((31.595031365, 116.037969652)):
            Circle(SKETCH1_R, mode=Mode.SUBTRACT)
        with Locations((5.669801626, 80.209486248)):
            Circle(SKETCH1_R, mode=Mode.SUBTRACT)
        with Locations((41.839401626, 80.209486248)):
            Circle(SKETCH1_R, mode=Mode.SUBTRACT)
        with Locations((41.839401626, 19.147886248)):
            Circle(SKETCH1_R, mode=Mode.SUBTRACT)
        with Locations((5.669801626, 19.147886248)):
            Circle(SKETCH1_R, mode=Mode.SUBTRACT)
    extrude(amount=BOSS_EXTRUDE1_DEPTH)

    # Sketch2 → Boss-Extrude2 (add)
    with BuildSketch(Plane.XY.offset(3.175).offset(BOSS_EXTRUDE2_START)):
        with Locations((146.208145266, 95.963919319)):
            Circle(SKETCH2_R)
    extrude(amount=BOSS_EXTRUDE2_DEPTH)

    # Fillet1
    fillet1_edges = [part.edges().sort_by_distance(p)[0] for p in [
        (-152.4, 190.5, 1.5875),
        (125.314883545, 190.5, 1.5875),
        (152.4, 116.084254136, 1.5875),
        (152.4, 0, 1.5875),
        (-152.4, 0, 1.5875),
    ]]
    fillet(fillet1_edges, radius=FILLET1_R)


solid = part.part
